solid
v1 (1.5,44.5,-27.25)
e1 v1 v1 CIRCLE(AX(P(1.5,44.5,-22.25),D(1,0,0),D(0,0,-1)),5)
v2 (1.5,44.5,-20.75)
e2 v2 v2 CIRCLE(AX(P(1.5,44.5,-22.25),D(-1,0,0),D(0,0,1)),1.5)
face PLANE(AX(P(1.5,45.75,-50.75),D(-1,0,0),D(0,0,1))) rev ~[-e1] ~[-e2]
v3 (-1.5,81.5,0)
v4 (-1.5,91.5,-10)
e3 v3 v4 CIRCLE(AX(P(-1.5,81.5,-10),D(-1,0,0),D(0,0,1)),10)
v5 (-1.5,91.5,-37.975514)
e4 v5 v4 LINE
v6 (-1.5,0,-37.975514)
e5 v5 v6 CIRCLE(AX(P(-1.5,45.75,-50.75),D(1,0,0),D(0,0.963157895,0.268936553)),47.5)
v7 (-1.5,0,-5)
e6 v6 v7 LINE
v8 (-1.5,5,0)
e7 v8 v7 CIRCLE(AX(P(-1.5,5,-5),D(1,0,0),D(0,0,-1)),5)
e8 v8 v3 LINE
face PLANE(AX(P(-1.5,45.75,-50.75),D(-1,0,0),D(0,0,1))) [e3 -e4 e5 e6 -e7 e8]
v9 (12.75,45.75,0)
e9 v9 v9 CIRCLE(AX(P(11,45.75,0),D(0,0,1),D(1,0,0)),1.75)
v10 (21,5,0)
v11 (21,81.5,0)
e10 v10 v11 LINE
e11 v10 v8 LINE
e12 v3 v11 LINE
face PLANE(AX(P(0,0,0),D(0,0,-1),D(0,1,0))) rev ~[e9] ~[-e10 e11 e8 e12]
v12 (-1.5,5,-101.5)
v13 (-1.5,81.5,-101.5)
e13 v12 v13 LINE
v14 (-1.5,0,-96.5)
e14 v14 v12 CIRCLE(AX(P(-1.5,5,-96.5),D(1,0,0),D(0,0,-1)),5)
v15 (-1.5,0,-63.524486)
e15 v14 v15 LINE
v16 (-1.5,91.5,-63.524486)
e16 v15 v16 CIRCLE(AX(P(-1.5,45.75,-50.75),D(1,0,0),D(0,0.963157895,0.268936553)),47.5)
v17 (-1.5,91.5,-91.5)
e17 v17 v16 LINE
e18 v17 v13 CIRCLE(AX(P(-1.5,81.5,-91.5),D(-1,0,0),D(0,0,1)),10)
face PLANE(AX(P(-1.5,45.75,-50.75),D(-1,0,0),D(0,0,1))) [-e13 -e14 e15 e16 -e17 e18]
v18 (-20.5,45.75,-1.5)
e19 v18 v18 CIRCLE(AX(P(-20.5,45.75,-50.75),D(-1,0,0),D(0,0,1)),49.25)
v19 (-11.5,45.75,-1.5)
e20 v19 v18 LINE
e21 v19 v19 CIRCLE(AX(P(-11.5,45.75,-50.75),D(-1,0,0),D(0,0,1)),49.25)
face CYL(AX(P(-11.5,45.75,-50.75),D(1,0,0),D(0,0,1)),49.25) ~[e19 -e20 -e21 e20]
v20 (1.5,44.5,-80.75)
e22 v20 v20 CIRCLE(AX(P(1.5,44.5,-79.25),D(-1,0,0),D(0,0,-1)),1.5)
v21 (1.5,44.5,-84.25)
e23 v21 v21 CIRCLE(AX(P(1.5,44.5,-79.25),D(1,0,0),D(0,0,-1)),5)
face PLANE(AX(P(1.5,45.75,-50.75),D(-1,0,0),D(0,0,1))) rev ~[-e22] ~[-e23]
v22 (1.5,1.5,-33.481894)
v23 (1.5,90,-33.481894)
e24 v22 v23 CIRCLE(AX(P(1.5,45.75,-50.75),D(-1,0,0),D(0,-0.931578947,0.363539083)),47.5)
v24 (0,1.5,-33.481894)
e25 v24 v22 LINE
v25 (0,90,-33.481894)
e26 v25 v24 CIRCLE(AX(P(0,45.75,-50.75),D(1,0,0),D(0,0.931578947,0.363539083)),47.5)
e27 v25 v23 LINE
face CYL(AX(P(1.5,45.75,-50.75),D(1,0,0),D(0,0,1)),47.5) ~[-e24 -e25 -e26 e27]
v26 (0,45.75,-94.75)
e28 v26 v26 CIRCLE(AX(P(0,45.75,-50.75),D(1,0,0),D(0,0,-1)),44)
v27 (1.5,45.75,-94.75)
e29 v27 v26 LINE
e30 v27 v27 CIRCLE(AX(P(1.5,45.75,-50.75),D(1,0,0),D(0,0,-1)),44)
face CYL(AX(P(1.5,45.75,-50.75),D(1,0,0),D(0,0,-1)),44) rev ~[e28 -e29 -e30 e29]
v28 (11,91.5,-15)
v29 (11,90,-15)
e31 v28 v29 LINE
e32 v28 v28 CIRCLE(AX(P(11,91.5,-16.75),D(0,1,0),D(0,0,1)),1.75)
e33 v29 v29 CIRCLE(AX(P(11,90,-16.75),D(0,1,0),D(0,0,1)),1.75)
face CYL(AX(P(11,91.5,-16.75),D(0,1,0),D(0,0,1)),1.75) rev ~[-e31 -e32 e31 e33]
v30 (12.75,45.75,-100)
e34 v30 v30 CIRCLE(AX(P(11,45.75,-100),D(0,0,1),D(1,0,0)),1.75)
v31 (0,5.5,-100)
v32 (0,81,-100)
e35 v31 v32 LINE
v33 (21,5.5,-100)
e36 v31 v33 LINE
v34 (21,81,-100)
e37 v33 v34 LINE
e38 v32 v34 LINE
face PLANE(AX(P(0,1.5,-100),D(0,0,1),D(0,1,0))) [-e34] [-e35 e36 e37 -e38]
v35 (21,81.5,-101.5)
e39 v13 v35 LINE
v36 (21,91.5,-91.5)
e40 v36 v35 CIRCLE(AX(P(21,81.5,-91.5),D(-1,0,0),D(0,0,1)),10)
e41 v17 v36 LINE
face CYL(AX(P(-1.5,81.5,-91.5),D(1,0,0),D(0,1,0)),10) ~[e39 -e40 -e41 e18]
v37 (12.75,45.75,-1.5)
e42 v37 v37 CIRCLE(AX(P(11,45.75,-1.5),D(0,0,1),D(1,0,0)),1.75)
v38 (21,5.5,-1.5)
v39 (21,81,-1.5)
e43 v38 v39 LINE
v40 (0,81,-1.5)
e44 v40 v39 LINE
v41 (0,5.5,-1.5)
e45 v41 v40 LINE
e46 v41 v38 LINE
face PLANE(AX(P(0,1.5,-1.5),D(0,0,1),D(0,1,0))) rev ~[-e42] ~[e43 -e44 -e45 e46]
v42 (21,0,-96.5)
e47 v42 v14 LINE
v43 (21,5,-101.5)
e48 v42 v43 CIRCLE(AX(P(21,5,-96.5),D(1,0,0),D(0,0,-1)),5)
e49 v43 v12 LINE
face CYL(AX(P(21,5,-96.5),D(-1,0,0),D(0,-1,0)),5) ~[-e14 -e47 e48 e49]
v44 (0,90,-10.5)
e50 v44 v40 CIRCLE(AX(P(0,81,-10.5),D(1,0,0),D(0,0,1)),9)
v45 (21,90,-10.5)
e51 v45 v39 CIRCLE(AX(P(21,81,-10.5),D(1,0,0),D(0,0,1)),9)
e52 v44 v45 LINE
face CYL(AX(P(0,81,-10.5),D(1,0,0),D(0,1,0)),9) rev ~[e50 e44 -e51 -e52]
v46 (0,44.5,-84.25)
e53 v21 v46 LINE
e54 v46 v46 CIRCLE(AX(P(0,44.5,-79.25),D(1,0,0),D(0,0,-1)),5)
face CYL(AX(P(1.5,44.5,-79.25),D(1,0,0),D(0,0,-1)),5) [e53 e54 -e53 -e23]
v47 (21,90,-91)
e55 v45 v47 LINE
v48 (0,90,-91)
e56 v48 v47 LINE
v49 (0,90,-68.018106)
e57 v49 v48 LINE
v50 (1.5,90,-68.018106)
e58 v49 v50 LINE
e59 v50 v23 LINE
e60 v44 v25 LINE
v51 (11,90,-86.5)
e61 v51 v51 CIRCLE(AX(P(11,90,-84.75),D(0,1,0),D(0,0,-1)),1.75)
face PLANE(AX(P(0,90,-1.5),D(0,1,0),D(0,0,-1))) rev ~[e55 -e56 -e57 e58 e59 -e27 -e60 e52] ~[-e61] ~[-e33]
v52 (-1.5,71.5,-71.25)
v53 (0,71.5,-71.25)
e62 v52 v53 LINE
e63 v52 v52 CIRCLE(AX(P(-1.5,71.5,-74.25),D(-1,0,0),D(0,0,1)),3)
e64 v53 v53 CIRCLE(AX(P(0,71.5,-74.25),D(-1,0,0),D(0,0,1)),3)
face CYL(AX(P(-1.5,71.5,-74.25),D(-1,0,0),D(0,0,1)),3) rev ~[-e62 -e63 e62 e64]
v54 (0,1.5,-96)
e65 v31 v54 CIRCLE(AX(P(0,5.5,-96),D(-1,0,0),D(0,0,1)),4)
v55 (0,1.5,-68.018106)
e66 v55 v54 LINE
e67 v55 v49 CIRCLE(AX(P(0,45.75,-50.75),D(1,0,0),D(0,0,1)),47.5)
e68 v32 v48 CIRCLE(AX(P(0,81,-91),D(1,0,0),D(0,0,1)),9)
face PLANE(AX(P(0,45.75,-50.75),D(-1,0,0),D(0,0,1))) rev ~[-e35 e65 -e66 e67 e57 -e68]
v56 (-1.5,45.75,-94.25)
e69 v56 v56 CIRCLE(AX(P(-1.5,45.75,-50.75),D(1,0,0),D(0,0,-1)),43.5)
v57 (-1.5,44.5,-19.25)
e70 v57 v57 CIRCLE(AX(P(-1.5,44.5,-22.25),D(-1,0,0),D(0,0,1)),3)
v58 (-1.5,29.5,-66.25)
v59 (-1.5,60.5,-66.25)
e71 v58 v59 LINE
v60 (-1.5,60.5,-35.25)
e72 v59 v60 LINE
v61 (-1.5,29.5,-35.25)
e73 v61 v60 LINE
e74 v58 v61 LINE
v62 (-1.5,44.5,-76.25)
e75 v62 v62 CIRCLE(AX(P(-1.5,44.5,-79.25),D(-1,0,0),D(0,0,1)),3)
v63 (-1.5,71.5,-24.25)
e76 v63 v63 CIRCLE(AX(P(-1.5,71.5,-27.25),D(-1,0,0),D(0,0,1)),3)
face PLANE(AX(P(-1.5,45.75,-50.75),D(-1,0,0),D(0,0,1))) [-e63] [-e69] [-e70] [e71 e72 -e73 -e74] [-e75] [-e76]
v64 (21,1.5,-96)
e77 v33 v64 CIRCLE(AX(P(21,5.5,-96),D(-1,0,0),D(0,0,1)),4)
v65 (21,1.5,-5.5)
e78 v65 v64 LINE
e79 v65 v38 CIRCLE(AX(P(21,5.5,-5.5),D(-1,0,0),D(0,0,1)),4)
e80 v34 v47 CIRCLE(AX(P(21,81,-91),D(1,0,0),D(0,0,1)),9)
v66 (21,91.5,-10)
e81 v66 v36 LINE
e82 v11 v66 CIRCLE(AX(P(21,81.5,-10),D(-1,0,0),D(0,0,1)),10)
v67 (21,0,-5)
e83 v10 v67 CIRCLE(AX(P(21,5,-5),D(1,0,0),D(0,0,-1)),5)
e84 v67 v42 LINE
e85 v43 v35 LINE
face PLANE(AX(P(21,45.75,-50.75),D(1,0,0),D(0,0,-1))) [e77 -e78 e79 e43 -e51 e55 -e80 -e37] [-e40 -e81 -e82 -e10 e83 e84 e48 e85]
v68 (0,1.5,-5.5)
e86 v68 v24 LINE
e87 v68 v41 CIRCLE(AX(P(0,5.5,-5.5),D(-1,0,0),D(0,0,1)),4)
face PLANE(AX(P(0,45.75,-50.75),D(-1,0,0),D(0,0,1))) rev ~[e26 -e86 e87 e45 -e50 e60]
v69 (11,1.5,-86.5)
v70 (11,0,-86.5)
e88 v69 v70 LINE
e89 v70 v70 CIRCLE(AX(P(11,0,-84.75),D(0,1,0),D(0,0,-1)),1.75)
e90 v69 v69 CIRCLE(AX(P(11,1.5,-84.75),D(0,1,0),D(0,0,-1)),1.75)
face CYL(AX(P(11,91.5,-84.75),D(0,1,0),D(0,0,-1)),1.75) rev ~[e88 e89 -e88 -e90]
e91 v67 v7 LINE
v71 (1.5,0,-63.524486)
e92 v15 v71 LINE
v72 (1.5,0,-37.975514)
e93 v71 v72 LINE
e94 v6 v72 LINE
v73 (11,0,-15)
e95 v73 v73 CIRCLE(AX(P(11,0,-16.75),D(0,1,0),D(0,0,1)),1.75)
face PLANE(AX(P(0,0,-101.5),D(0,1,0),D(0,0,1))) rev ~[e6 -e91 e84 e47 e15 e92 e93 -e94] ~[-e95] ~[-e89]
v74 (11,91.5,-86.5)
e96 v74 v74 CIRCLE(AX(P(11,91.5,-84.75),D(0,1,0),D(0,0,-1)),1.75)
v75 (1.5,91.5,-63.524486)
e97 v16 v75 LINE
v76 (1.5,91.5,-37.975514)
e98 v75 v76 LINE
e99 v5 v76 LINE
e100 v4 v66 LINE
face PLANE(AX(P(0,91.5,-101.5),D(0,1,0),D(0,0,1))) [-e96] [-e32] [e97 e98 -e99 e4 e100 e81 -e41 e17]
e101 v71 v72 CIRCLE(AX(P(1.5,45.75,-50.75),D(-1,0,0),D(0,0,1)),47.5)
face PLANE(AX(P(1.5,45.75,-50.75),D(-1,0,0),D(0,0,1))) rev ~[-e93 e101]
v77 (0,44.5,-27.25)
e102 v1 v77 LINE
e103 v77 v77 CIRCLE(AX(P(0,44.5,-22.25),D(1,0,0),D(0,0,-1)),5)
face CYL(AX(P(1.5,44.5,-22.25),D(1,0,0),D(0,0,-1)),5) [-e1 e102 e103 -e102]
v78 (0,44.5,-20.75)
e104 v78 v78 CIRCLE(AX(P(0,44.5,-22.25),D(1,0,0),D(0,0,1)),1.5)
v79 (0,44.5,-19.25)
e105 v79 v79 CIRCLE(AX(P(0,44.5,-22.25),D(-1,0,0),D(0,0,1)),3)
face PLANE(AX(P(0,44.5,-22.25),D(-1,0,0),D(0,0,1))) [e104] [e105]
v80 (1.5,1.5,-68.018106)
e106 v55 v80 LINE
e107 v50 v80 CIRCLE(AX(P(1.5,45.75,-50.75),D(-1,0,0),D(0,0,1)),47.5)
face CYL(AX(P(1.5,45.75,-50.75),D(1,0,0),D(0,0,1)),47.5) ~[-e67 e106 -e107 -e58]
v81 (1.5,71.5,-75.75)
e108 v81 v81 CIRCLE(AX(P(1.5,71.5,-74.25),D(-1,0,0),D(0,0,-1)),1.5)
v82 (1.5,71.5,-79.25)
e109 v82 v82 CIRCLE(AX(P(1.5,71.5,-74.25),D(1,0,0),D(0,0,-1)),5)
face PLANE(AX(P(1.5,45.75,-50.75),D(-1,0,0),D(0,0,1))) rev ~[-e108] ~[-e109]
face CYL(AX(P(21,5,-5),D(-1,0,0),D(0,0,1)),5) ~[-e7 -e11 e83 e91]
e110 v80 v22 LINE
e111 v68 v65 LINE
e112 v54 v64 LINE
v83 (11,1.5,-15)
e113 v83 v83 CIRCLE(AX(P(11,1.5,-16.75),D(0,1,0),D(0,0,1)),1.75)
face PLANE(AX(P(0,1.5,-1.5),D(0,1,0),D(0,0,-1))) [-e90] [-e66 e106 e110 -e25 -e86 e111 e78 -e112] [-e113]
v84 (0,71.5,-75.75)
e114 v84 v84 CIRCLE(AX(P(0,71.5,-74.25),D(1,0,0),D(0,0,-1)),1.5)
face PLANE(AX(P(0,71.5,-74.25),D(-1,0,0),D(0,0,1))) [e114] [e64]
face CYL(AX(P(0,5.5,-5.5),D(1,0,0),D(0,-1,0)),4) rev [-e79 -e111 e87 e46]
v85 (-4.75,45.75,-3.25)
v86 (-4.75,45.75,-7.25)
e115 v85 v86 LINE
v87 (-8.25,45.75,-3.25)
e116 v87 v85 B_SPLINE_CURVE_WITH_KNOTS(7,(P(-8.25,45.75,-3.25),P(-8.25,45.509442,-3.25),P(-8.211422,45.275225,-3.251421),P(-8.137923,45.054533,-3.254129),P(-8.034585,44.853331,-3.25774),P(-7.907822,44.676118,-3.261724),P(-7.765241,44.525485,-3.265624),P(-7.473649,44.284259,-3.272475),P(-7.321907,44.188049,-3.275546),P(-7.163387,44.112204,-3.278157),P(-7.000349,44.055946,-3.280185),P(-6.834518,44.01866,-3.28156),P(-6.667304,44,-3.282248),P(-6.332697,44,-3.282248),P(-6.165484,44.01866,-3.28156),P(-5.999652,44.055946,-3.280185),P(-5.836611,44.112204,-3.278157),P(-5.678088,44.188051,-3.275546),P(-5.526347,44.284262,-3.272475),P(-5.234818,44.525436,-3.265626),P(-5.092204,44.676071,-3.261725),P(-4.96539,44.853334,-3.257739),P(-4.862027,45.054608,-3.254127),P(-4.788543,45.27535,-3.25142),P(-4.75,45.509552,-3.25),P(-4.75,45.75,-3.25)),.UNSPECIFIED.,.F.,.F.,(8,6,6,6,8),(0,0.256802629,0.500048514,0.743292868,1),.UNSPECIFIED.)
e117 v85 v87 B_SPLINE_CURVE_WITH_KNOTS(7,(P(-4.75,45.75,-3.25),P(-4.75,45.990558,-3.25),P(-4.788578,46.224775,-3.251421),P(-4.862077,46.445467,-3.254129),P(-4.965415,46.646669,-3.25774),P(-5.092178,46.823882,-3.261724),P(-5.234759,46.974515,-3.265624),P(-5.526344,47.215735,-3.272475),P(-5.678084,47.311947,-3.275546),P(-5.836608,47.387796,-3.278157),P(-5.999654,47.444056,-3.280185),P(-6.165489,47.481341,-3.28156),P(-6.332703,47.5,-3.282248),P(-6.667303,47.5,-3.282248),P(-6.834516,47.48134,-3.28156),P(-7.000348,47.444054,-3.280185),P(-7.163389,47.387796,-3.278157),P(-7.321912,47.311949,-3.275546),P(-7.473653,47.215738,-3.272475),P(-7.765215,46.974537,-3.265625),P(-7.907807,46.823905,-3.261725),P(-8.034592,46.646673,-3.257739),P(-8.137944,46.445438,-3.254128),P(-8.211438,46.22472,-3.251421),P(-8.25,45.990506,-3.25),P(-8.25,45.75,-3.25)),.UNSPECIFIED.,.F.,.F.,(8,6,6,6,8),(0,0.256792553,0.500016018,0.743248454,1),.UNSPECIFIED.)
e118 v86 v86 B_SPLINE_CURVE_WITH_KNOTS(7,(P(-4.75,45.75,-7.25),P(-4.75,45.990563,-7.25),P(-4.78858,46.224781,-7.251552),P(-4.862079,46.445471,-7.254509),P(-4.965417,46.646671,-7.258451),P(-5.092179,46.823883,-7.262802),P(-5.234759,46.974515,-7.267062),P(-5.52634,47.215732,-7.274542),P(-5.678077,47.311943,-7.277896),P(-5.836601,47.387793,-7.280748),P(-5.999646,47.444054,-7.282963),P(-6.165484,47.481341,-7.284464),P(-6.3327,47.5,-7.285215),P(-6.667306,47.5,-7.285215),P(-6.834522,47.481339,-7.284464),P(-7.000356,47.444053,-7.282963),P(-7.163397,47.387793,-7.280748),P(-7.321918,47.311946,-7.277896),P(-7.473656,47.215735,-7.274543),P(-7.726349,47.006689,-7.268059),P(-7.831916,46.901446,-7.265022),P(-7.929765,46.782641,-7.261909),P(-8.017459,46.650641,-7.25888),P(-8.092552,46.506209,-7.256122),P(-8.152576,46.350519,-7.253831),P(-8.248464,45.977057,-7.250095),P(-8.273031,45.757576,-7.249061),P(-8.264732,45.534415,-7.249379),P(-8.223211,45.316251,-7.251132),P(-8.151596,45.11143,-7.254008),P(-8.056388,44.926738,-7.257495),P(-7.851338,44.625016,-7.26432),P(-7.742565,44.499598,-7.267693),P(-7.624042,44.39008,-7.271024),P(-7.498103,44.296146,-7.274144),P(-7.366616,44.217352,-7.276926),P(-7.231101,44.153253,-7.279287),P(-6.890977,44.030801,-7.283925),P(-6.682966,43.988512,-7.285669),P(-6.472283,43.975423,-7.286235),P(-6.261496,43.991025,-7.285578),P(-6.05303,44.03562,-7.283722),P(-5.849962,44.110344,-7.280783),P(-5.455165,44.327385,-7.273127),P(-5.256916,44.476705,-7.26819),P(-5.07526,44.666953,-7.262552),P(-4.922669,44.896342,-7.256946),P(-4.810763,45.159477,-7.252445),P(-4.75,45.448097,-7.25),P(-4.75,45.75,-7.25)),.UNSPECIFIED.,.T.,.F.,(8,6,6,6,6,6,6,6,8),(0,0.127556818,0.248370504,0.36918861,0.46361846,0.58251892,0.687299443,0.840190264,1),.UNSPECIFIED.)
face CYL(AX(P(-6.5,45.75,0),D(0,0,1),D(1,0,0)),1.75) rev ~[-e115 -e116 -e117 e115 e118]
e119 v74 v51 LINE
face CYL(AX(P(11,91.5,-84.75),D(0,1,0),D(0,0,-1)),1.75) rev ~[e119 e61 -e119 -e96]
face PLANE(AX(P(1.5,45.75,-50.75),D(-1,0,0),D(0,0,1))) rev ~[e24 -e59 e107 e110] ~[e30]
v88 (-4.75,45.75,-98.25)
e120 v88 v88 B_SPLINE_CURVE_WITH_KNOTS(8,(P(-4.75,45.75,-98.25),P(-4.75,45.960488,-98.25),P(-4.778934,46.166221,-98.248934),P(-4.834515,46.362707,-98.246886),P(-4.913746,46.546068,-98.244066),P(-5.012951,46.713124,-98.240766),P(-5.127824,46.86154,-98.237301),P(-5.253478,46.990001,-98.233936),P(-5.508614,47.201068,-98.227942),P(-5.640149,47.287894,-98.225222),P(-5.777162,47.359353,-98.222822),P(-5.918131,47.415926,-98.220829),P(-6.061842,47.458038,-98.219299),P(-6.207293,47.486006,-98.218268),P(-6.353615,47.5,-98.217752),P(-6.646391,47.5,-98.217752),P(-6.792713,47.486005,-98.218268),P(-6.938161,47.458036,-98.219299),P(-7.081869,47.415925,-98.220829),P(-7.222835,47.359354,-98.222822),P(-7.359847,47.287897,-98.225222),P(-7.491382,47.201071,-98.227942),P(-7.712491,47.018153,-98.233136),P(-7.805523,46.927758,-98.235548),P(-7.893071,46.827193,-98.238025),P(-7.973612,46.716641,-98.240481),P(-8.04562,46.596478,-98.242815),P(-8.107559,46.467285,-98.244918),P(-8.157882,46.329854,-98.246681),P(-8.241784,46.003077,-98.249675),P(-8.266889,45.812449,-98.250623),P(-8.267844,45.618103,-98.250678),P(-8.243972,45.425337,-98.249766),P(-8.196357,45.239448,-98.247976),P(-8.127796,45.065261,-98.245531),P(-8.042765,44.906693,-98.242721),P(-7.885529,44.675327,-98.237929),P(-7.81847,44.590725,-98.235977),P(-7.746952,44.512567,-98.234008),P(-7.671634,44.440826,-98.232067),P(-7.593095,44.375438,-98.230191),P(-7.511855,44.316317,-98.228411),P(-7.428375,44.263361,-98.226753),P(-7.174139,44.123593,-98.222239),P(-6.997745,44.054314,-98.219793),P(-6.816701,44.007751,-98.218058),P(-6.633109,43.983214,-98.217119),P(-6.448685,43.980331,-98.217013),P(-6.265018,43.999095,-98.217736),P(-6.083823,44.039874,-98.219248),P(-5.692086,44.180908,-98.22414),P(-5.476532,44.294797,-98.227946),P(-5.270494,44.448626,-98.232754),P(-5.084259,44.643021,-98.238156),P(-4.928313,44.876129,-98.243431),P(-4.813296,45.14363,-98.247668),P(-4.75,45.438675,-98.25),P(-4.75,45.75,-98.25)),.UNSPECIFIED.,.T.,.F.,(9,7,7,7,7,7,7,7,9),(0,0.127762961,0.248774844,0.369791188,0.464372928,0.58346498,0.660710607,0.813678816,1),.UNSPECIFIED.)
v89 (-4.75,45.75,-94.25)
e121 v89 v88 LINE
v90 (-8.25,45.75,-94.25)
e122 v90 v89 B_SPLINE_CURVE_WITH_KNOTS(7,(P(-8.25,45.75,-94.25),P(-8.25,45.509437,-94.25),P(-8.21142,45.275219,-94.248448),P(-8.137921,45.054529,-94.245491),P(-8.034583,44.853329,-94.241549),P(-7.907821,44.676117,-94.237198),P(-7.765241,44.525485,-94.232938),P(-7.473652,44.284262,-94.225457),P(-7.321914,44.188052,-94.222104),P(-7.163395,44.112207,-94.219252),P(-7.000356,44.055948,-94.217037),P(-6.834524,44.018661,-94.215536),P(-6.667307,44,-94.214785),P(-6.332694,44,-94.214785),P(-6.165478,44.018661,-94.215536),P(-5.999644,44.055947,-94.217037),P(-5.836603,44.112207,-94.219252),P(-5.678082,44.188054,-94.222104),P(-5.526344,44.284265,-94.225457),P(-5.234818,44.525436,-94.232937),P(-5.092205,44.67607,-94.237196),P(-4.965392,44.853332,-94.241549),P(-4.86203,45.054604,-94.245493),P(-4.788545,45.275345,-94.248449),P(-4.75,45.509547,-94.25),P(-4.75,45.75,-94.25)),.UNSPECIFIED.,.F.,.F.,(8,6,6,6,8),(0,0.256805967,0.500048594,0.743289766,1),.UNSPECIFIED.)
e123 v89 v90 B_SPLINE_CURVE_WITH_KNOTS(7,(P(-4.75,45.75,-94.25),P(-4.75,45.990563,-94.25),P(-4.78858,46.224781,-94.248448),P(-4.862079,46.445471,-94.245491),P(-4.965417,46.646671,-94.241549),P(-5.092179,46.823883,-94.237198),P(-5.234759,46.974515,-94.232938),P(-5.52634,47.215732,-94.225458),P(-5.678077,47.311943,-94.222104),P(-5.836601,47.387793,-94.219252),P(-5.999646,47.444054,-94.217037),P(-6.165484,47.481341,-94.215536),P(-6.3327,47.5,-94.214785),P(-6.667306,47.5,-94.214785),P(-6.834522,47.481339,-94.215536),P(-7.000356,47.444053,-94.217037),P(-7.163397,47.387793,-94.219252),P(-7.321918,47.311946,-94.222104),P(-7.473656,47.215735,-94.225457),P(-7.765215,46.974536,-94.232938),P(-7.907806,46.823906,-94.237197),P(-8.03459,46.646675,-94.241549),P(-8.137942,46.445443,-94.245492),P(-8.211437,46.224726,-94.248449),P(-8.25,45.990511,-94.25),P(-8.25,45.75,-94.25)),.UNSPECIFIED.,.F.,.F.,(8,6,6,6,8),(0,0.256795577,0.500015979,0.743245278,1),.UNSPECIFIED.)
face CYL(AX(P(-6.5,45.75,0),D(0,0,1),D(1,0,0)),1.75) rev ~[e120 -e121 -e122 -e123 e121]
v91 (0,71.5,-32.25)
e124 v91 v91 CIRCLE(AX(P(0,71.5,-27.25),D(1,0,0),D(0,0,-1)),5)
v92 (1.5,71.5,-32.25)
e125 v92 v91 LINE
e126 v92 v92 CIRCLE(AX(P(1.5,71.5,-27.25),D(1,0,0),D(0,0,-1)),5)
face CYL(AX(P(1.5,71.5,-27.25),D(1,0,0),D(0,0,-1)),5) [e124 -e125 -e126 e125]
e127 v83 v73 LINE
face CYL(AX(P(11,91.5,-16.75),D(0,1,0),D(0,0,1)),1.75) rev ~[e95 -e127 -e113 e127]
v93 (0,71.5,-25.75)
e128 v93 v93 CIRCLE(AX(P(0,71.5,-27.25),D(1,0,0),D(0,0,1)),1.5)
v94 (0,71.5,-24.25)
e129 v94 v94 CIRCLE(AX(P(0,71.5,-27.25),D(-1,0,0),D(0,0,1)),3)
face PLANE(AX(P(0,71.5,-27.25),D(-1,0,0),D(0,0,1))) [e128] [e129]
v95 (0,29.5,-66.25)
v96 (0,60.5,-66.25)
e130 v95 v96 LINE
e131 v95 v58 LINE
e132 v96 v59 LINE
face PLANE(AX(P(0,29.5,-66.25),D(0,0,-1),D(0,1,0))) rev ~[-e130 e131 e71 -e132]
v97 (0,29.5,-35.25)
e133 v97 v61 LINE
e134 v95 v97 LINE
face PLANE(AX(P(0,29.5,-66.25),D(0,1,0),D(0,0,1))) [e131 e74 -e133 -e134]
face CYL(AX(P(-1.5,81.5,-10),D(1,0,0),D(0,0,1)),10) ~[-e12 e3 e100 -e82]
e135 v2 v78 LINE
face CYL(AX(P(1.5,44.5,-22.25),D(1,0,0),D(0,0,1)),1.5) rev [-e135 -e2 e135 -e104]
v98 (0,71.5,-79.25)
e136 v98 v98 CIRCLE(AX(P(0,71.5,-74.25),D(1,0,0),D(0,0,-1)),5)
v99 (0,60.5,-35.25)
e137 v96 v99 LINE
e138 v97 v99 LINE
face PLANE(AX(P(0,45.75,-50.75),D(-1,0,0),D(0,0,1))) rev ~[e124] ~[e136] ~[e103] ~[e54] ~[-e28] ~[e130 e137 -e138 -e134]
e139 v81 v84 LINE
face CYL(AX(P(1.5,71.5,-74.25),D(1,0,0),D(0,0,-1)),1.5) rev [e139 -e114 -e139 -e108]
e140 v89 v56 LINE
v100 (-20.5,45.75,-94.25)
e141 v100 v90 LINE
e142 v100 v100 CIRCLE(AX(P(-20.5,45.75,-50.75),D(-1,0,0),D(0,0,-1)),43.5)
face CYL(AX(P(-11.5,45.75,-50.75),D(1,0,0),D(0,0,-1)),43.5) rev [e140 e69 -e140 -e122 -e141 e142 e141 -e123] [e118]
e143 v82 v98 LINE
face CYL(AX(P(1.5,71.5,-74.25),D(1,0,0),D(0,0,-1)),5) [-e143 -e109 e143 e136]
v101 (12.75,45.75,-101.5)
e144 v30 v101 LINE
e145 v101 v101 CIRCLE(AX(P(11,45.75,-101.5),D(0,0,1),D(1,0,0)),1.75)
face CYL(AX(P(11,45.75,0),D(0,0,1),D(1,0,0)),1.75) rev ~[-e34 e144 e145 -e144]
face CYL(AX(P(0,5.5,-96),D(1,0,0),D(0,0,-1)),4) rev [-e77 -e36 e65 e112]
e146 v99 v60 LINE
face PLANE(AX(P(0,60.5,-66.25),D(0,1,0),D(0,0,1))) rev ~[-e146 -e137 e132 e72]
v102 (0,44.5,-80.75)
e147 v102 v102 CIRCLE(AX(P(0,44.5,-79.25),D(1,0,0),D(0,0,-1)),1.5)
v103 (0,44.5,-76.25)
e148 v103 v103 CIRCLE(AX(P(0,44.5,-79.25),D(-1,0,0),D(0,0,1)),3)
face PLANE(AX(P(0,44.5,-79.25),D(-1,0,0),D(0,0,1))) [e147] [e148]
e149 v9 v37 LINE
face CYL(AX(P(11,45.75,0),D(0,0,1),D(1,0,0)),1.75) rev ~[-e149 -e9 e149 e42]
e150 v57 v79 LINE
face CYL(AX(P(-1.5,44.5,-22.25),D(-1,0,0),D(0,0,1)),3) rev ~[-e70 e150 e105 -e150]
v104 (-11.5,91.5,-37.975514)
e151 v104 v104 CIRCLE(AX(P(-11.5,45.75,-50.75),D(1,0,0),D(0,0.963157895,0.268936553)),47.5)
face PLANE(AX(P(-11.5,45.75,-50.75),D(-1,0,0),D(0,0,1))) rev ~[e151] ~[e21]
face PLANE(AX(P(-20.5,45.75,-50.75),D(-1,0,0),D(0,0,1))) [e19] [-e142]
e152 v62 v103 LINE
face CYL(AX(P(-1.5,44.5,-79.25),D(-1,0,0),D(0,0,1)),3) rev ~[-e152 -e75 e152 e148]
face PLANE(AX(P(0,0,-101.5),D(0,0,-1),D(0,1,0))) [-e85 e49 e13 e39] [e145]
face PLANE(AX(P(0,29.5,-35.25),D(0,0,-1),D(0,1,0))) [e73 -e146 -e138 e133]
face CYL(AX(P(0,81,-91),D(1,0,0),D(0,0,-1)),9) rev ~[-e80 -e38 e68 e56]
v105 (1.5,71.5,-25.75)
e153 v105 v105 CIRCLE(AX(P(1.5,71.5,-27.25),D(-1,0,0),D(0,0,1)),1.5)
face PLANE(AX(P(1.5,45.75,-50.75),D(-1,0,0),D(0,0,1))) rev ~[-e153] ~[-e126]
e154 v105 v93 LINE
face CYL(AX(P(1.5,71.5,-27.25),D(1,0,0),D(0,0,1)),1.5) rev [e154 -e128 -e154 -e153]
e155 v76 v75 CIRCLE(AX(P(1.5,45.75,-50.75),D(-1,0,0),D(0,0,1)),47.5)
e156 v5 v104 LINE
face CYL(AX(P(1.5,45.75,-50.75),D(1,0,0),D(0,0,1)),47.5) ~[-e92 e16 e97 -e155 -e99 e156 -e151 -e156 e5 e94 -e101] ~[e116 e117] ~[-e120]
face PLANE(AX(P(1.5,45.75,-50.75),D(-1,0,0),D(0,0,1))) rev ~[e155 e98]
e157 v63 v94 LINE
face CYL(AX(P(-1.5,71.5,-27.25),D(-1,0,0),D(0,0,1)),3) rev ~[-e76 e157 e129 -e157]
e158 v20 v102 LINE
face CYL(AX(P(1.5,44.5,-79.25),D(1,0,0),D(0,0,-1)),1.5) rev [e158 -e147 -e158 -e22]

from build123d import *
from build123d.topology import SkipClean

# Parameters (mm, degrees)
SKETCH_1_W          = 101.5
SKETCH_1_H          = 91.5
SKETCH_1_W_2        = 98.5
SKETCH_1_H_2        = 88.5
EXTRUDE_1_DEPTH     = 21
SKETCH_2_W          = 101.5
SKETCH_2_H          = 91.5
SKETCH_2_R          = 1.5
SKETCH_2_W_2        = 31
SKETCH_2_H_2        = 31
EXTRUDE_2_DEPTH     = 1.5
SKETCH_3_R          = 1.75
CUT_EXTRUDE_1_DEPTH = 139.25881527
SKETCH_4_R          = 1.75
CUT_EXTRUDE_2_DEPTH = 139.25881527
FILLET_1_R          = 9
FILLET_2_R          = 10
FILLET_3_R          = 4
FILLET_4_R          = 5
EXTRUDE_START       = -3
SKETCH_5_R          = 47.5
SKETCH_5_R_2        = 1.5
SKETCH_5_W          = 45
SKETCH_5_H          = 46
EXTRUDE_3_DEPTH     = 3
SKETCH_6_R          = 47.5
SKETCH_6_R_2        = 43.5
EXTRUDE_4_DEPTH     = 13
SKETCH_7_R          = 49.25
SKETCH_7_R_2        = 43.5
EXTRUDE_5_DEPTH     = 9
SKETCH_8_R          = 44
SKETCH_8_R_2        = 5
CUT_EXTRUDE_3_DEPTH = 1.5
SKETCH_9_R          = 1.75
CUT_EXTRUDE_4_DEPTH = 141.599608819
SKETCH_10_R         = 3
CUT_EXTRUDE_5_DEPTH = 1.5


with BuildPart() as part:
    # 草图1 → 凸台-拉伸1 (new body)
    with BuildSketch(Plane(origin=(0, 0, 0), x_dir=(0, 0, -1), z_dir=(1, 0, 0))):
        with Locations((50.75, 45.75)):
            Rectangle(SKETCH_1_W, SKETCH_1_H)
        with Locations((50.75, 45.75)):
            Rectangle(SKETCH_1_W_2, SKETCH_1_H_2, mode=Mode.SUBTRACT)
    extrude(amount=EXTRUDE_1_DEPTH)

    # 草图2 → 凸台-拉伸2 (add)
    with BuildSketch(Plane.ZY):
        with Locations((-50.75, 45.75)):
            Rectangle(SKETCH_2_W, SKETCH_2_H)
        with Locations((-27.25, 71.5)):
            Circle(SKETCH_2_R, mode=Mode.SUBTRACT)
        with Locations((-22.25, 44.5)):
            Circle(SKETCH_2_R, mode=Mode.SUBTRACT)
        with Locations(Location((-79.25, 44.5, 0), (0, 0, 180))):
            Circle(SKETCH_2_R, mode=Mode.SUBTRACT)
        with Locations(Location((-74.25, 71.5, 0), (0, 0, 180))):
            Circle(SKETCH_2_R, mode=Mode.SUBTRACT)
        with Locations((-50.75, 45)):
            Rectangle(SKETCH_2_W_2, SKETCH_2_H_2, mode=Mode.SUBTRACT)
    extrude(amount=EXTRUDE_2_DEPTH)

    # 草图3 → 切除-拉伸1 (cut, through all)
    with BuildSketch(Plane.XY):
        with Locations((11, 45.75)):
            Circle(SKETCH_3_R)
    extrude(amount=-CUT_EXTRUDE_1_DEPTH, mode=Mode.SUBTRACT)

    # 草图4 → 切除-拉伸2 (cut, through all)
    with BuildSketch(Plane(origin=(0, 91.5, 0), x_dir=(1, 0, 0), z_dir=(0, 1, 0))):
        with Locations(Location((11, 16.75, 0), (0, 0, 270))):
            Circle(SKETCH_4_R)
        with Locations(Location((11, 84.75, 0), (0, 0, 90))):
            Circle(SKETCH_4_R)
    extrude(amount=-CUT_EXTRUDE_2_DEPTH, mode=Mode.SUBTRACT)

    # 圆角1
    fillet_1_edges = [part.edges().sort_by_distance(p)[0] for p in [
        (10.5, 90, -100),
        (10.5, 90, -1.5),
    ]]
    fillet(fillet_1_edges, radius=FILLET_1_R)

    # 圆角2
    fillet_2_edges = [part.edges().sort_by_distance(p)[0] for p in [
        (9.75, 91.5, 0),
        (9.75, 91.5, -101.5),
    ]]
    fillet(fillet_2_edges, radius=FILLET_2_R)

    # 圆角3
    fillet_3_edges = [part.edges().sort_by_distance(p)[0] for p in [
        (10.5, 1.5, -1.5),
        (10.5, 1.5, -100),
    ]]
    fillet(fillet_3_edges, radius=FILLET_3_R)

    # 圆角4
    fillet_4_edges = [part.edges().sort_by_distance(p)[0] for p in [
        (9.75, 0, -101.5),
        (9.75, 0, 0),
    ]]
    fillet(fillet_4_edges, radius=FILLET_4_R)

    # 草图5 → 凸台-拉伸3 (add)
    with BuildSketch(Plane.ZY.offset(1.5).offset(EXTRUDE_START)):
        with Locations((-50.75, 45.75)):
            Circle(SKETCH_5_R)
        with Locations((-27.25, 71.5)):
            Circle(SKETCH_5_R_2, mode=Mode.SUBTRACT)
        with Locations((-22.25, 44.5)):
            Circle(SKETCH_5_R_2, mode=Mode.SUBTRACT)
        with Locations(Location((-79.25, 44.5, 0), (0, 0, 180))):
            Circle(SKETCH_5_R_2, mode=Mode.SUBTRACT)
        with Locations(Location((-74.25, 71.5, 0), (0, 0, 180))):
            Circle(SKETCH_5_R_2, mode=Mode.SUBTRACT)
        with Locations((-50.75, 43)):
            Rectangle(SKETCH_5_W, SKETCH_5_H, mode=Mode.SUBTRACT)
    extrude(amount=EXTRUDE_3_DEPTH)

    # 草图6 → 凸台-拉伸4 (add)
    with BuildSketch(Plane(origin=(1.5, 0, 0), x_dir=(0, 0, -1), z_dir=(1, 0, 0))):
        with Locations(Location((50.75, 45.75, 0), (0, 0, 105.600995393))):
            Circle(SKETCH_6_R)
        with Locations((50.75, 45.75)):
            Circle(SKETCH_6_R_2, mode=Mode.SUBTRACT)
    extrude(amount=-EXTRUDE_4_DEPTH)

    # 草图7 → 凸台-拉伸5 (add)
    with BuildSketch(Plane.ZY.offset(11.5)):
        with Locations((-50.75, 45.75)):
            Circle(SKETCH_7_R)
        with Locations(Location((-50.75, 45.75, 0), (0, 0, 180))):
            Circle(SKETCH_7_R_2, mode=Mode.SUBTRACT)
    extrude(amount=EXTRUDE_5_DEPTH)

    # 草图8 → 切除-拉伸3 (cut)
    with BuildSketch(Plane(origin=(1.5, 0, 0), x_dir=(0, 0, -1), z_dir=(1, 0, 0))):
        with Locations((50.75, 45.75)):
            Circle(SKETCH_8_R)
        with Locations((74.25, 71.5)):
            Circle(SKETCH_8_R_2, mode=Mode.SUBTRACT)
        with Locations((79.25, 44.5)):
            Circle(SKETCH_8_R_2, mode=Mode.SUBTRACT)
        with Locations((22.25, 44.5)):
            Circle(SKETCH_8_R_2, mode=Mode.SUBTRACT)
        with Locations((27.25, 71.5)):
            Circle(SKETCH_8_R_2, mode=Mode.SUBTRACT)
    extrude(amount=-CUT_EXTRUDE_3_DEPTH, mode=Mode.SUBTRACT)

    # 草图9 → 切除-拉伸4 (cut, through all)
    with SkipClean():  # the faces are left unmerged after this step: merging them gives an invalid solid
        with BuildSketch(Plane.XY):
            with Locations((-6.5, 45.75)):
                Circle(SKETCH_9_R)
        extrude(amount=-CUT_EXTRUDE_4_DEPTH, mode=Mode.SUBTRACT)

    # 草图10 → 切除-拉伸5 (cut)
    with SkipClean():  # the faces are left unmerged after this step: merging them gives an invalid solid
        with BuildSketch(Plane.ZY.offset(1.5)):
            with Locations((-74.25, 71.5)):
                Circle(SKETCH_10_R)
            with Locations((-27.25, 71.5)):
                Circle(SKETCH_10_R)
            with Locations((-22.25, 44.5)):
                Circle(SKETCH_10_R)
            with Locations((-79.25, 44.5)):
                Circle(SKETCH_10_R)
        extrude(amount=-CUT_EXTRUDE_5_DEPTH, mode=Mode.SUBTRACT)


solid = part.part
